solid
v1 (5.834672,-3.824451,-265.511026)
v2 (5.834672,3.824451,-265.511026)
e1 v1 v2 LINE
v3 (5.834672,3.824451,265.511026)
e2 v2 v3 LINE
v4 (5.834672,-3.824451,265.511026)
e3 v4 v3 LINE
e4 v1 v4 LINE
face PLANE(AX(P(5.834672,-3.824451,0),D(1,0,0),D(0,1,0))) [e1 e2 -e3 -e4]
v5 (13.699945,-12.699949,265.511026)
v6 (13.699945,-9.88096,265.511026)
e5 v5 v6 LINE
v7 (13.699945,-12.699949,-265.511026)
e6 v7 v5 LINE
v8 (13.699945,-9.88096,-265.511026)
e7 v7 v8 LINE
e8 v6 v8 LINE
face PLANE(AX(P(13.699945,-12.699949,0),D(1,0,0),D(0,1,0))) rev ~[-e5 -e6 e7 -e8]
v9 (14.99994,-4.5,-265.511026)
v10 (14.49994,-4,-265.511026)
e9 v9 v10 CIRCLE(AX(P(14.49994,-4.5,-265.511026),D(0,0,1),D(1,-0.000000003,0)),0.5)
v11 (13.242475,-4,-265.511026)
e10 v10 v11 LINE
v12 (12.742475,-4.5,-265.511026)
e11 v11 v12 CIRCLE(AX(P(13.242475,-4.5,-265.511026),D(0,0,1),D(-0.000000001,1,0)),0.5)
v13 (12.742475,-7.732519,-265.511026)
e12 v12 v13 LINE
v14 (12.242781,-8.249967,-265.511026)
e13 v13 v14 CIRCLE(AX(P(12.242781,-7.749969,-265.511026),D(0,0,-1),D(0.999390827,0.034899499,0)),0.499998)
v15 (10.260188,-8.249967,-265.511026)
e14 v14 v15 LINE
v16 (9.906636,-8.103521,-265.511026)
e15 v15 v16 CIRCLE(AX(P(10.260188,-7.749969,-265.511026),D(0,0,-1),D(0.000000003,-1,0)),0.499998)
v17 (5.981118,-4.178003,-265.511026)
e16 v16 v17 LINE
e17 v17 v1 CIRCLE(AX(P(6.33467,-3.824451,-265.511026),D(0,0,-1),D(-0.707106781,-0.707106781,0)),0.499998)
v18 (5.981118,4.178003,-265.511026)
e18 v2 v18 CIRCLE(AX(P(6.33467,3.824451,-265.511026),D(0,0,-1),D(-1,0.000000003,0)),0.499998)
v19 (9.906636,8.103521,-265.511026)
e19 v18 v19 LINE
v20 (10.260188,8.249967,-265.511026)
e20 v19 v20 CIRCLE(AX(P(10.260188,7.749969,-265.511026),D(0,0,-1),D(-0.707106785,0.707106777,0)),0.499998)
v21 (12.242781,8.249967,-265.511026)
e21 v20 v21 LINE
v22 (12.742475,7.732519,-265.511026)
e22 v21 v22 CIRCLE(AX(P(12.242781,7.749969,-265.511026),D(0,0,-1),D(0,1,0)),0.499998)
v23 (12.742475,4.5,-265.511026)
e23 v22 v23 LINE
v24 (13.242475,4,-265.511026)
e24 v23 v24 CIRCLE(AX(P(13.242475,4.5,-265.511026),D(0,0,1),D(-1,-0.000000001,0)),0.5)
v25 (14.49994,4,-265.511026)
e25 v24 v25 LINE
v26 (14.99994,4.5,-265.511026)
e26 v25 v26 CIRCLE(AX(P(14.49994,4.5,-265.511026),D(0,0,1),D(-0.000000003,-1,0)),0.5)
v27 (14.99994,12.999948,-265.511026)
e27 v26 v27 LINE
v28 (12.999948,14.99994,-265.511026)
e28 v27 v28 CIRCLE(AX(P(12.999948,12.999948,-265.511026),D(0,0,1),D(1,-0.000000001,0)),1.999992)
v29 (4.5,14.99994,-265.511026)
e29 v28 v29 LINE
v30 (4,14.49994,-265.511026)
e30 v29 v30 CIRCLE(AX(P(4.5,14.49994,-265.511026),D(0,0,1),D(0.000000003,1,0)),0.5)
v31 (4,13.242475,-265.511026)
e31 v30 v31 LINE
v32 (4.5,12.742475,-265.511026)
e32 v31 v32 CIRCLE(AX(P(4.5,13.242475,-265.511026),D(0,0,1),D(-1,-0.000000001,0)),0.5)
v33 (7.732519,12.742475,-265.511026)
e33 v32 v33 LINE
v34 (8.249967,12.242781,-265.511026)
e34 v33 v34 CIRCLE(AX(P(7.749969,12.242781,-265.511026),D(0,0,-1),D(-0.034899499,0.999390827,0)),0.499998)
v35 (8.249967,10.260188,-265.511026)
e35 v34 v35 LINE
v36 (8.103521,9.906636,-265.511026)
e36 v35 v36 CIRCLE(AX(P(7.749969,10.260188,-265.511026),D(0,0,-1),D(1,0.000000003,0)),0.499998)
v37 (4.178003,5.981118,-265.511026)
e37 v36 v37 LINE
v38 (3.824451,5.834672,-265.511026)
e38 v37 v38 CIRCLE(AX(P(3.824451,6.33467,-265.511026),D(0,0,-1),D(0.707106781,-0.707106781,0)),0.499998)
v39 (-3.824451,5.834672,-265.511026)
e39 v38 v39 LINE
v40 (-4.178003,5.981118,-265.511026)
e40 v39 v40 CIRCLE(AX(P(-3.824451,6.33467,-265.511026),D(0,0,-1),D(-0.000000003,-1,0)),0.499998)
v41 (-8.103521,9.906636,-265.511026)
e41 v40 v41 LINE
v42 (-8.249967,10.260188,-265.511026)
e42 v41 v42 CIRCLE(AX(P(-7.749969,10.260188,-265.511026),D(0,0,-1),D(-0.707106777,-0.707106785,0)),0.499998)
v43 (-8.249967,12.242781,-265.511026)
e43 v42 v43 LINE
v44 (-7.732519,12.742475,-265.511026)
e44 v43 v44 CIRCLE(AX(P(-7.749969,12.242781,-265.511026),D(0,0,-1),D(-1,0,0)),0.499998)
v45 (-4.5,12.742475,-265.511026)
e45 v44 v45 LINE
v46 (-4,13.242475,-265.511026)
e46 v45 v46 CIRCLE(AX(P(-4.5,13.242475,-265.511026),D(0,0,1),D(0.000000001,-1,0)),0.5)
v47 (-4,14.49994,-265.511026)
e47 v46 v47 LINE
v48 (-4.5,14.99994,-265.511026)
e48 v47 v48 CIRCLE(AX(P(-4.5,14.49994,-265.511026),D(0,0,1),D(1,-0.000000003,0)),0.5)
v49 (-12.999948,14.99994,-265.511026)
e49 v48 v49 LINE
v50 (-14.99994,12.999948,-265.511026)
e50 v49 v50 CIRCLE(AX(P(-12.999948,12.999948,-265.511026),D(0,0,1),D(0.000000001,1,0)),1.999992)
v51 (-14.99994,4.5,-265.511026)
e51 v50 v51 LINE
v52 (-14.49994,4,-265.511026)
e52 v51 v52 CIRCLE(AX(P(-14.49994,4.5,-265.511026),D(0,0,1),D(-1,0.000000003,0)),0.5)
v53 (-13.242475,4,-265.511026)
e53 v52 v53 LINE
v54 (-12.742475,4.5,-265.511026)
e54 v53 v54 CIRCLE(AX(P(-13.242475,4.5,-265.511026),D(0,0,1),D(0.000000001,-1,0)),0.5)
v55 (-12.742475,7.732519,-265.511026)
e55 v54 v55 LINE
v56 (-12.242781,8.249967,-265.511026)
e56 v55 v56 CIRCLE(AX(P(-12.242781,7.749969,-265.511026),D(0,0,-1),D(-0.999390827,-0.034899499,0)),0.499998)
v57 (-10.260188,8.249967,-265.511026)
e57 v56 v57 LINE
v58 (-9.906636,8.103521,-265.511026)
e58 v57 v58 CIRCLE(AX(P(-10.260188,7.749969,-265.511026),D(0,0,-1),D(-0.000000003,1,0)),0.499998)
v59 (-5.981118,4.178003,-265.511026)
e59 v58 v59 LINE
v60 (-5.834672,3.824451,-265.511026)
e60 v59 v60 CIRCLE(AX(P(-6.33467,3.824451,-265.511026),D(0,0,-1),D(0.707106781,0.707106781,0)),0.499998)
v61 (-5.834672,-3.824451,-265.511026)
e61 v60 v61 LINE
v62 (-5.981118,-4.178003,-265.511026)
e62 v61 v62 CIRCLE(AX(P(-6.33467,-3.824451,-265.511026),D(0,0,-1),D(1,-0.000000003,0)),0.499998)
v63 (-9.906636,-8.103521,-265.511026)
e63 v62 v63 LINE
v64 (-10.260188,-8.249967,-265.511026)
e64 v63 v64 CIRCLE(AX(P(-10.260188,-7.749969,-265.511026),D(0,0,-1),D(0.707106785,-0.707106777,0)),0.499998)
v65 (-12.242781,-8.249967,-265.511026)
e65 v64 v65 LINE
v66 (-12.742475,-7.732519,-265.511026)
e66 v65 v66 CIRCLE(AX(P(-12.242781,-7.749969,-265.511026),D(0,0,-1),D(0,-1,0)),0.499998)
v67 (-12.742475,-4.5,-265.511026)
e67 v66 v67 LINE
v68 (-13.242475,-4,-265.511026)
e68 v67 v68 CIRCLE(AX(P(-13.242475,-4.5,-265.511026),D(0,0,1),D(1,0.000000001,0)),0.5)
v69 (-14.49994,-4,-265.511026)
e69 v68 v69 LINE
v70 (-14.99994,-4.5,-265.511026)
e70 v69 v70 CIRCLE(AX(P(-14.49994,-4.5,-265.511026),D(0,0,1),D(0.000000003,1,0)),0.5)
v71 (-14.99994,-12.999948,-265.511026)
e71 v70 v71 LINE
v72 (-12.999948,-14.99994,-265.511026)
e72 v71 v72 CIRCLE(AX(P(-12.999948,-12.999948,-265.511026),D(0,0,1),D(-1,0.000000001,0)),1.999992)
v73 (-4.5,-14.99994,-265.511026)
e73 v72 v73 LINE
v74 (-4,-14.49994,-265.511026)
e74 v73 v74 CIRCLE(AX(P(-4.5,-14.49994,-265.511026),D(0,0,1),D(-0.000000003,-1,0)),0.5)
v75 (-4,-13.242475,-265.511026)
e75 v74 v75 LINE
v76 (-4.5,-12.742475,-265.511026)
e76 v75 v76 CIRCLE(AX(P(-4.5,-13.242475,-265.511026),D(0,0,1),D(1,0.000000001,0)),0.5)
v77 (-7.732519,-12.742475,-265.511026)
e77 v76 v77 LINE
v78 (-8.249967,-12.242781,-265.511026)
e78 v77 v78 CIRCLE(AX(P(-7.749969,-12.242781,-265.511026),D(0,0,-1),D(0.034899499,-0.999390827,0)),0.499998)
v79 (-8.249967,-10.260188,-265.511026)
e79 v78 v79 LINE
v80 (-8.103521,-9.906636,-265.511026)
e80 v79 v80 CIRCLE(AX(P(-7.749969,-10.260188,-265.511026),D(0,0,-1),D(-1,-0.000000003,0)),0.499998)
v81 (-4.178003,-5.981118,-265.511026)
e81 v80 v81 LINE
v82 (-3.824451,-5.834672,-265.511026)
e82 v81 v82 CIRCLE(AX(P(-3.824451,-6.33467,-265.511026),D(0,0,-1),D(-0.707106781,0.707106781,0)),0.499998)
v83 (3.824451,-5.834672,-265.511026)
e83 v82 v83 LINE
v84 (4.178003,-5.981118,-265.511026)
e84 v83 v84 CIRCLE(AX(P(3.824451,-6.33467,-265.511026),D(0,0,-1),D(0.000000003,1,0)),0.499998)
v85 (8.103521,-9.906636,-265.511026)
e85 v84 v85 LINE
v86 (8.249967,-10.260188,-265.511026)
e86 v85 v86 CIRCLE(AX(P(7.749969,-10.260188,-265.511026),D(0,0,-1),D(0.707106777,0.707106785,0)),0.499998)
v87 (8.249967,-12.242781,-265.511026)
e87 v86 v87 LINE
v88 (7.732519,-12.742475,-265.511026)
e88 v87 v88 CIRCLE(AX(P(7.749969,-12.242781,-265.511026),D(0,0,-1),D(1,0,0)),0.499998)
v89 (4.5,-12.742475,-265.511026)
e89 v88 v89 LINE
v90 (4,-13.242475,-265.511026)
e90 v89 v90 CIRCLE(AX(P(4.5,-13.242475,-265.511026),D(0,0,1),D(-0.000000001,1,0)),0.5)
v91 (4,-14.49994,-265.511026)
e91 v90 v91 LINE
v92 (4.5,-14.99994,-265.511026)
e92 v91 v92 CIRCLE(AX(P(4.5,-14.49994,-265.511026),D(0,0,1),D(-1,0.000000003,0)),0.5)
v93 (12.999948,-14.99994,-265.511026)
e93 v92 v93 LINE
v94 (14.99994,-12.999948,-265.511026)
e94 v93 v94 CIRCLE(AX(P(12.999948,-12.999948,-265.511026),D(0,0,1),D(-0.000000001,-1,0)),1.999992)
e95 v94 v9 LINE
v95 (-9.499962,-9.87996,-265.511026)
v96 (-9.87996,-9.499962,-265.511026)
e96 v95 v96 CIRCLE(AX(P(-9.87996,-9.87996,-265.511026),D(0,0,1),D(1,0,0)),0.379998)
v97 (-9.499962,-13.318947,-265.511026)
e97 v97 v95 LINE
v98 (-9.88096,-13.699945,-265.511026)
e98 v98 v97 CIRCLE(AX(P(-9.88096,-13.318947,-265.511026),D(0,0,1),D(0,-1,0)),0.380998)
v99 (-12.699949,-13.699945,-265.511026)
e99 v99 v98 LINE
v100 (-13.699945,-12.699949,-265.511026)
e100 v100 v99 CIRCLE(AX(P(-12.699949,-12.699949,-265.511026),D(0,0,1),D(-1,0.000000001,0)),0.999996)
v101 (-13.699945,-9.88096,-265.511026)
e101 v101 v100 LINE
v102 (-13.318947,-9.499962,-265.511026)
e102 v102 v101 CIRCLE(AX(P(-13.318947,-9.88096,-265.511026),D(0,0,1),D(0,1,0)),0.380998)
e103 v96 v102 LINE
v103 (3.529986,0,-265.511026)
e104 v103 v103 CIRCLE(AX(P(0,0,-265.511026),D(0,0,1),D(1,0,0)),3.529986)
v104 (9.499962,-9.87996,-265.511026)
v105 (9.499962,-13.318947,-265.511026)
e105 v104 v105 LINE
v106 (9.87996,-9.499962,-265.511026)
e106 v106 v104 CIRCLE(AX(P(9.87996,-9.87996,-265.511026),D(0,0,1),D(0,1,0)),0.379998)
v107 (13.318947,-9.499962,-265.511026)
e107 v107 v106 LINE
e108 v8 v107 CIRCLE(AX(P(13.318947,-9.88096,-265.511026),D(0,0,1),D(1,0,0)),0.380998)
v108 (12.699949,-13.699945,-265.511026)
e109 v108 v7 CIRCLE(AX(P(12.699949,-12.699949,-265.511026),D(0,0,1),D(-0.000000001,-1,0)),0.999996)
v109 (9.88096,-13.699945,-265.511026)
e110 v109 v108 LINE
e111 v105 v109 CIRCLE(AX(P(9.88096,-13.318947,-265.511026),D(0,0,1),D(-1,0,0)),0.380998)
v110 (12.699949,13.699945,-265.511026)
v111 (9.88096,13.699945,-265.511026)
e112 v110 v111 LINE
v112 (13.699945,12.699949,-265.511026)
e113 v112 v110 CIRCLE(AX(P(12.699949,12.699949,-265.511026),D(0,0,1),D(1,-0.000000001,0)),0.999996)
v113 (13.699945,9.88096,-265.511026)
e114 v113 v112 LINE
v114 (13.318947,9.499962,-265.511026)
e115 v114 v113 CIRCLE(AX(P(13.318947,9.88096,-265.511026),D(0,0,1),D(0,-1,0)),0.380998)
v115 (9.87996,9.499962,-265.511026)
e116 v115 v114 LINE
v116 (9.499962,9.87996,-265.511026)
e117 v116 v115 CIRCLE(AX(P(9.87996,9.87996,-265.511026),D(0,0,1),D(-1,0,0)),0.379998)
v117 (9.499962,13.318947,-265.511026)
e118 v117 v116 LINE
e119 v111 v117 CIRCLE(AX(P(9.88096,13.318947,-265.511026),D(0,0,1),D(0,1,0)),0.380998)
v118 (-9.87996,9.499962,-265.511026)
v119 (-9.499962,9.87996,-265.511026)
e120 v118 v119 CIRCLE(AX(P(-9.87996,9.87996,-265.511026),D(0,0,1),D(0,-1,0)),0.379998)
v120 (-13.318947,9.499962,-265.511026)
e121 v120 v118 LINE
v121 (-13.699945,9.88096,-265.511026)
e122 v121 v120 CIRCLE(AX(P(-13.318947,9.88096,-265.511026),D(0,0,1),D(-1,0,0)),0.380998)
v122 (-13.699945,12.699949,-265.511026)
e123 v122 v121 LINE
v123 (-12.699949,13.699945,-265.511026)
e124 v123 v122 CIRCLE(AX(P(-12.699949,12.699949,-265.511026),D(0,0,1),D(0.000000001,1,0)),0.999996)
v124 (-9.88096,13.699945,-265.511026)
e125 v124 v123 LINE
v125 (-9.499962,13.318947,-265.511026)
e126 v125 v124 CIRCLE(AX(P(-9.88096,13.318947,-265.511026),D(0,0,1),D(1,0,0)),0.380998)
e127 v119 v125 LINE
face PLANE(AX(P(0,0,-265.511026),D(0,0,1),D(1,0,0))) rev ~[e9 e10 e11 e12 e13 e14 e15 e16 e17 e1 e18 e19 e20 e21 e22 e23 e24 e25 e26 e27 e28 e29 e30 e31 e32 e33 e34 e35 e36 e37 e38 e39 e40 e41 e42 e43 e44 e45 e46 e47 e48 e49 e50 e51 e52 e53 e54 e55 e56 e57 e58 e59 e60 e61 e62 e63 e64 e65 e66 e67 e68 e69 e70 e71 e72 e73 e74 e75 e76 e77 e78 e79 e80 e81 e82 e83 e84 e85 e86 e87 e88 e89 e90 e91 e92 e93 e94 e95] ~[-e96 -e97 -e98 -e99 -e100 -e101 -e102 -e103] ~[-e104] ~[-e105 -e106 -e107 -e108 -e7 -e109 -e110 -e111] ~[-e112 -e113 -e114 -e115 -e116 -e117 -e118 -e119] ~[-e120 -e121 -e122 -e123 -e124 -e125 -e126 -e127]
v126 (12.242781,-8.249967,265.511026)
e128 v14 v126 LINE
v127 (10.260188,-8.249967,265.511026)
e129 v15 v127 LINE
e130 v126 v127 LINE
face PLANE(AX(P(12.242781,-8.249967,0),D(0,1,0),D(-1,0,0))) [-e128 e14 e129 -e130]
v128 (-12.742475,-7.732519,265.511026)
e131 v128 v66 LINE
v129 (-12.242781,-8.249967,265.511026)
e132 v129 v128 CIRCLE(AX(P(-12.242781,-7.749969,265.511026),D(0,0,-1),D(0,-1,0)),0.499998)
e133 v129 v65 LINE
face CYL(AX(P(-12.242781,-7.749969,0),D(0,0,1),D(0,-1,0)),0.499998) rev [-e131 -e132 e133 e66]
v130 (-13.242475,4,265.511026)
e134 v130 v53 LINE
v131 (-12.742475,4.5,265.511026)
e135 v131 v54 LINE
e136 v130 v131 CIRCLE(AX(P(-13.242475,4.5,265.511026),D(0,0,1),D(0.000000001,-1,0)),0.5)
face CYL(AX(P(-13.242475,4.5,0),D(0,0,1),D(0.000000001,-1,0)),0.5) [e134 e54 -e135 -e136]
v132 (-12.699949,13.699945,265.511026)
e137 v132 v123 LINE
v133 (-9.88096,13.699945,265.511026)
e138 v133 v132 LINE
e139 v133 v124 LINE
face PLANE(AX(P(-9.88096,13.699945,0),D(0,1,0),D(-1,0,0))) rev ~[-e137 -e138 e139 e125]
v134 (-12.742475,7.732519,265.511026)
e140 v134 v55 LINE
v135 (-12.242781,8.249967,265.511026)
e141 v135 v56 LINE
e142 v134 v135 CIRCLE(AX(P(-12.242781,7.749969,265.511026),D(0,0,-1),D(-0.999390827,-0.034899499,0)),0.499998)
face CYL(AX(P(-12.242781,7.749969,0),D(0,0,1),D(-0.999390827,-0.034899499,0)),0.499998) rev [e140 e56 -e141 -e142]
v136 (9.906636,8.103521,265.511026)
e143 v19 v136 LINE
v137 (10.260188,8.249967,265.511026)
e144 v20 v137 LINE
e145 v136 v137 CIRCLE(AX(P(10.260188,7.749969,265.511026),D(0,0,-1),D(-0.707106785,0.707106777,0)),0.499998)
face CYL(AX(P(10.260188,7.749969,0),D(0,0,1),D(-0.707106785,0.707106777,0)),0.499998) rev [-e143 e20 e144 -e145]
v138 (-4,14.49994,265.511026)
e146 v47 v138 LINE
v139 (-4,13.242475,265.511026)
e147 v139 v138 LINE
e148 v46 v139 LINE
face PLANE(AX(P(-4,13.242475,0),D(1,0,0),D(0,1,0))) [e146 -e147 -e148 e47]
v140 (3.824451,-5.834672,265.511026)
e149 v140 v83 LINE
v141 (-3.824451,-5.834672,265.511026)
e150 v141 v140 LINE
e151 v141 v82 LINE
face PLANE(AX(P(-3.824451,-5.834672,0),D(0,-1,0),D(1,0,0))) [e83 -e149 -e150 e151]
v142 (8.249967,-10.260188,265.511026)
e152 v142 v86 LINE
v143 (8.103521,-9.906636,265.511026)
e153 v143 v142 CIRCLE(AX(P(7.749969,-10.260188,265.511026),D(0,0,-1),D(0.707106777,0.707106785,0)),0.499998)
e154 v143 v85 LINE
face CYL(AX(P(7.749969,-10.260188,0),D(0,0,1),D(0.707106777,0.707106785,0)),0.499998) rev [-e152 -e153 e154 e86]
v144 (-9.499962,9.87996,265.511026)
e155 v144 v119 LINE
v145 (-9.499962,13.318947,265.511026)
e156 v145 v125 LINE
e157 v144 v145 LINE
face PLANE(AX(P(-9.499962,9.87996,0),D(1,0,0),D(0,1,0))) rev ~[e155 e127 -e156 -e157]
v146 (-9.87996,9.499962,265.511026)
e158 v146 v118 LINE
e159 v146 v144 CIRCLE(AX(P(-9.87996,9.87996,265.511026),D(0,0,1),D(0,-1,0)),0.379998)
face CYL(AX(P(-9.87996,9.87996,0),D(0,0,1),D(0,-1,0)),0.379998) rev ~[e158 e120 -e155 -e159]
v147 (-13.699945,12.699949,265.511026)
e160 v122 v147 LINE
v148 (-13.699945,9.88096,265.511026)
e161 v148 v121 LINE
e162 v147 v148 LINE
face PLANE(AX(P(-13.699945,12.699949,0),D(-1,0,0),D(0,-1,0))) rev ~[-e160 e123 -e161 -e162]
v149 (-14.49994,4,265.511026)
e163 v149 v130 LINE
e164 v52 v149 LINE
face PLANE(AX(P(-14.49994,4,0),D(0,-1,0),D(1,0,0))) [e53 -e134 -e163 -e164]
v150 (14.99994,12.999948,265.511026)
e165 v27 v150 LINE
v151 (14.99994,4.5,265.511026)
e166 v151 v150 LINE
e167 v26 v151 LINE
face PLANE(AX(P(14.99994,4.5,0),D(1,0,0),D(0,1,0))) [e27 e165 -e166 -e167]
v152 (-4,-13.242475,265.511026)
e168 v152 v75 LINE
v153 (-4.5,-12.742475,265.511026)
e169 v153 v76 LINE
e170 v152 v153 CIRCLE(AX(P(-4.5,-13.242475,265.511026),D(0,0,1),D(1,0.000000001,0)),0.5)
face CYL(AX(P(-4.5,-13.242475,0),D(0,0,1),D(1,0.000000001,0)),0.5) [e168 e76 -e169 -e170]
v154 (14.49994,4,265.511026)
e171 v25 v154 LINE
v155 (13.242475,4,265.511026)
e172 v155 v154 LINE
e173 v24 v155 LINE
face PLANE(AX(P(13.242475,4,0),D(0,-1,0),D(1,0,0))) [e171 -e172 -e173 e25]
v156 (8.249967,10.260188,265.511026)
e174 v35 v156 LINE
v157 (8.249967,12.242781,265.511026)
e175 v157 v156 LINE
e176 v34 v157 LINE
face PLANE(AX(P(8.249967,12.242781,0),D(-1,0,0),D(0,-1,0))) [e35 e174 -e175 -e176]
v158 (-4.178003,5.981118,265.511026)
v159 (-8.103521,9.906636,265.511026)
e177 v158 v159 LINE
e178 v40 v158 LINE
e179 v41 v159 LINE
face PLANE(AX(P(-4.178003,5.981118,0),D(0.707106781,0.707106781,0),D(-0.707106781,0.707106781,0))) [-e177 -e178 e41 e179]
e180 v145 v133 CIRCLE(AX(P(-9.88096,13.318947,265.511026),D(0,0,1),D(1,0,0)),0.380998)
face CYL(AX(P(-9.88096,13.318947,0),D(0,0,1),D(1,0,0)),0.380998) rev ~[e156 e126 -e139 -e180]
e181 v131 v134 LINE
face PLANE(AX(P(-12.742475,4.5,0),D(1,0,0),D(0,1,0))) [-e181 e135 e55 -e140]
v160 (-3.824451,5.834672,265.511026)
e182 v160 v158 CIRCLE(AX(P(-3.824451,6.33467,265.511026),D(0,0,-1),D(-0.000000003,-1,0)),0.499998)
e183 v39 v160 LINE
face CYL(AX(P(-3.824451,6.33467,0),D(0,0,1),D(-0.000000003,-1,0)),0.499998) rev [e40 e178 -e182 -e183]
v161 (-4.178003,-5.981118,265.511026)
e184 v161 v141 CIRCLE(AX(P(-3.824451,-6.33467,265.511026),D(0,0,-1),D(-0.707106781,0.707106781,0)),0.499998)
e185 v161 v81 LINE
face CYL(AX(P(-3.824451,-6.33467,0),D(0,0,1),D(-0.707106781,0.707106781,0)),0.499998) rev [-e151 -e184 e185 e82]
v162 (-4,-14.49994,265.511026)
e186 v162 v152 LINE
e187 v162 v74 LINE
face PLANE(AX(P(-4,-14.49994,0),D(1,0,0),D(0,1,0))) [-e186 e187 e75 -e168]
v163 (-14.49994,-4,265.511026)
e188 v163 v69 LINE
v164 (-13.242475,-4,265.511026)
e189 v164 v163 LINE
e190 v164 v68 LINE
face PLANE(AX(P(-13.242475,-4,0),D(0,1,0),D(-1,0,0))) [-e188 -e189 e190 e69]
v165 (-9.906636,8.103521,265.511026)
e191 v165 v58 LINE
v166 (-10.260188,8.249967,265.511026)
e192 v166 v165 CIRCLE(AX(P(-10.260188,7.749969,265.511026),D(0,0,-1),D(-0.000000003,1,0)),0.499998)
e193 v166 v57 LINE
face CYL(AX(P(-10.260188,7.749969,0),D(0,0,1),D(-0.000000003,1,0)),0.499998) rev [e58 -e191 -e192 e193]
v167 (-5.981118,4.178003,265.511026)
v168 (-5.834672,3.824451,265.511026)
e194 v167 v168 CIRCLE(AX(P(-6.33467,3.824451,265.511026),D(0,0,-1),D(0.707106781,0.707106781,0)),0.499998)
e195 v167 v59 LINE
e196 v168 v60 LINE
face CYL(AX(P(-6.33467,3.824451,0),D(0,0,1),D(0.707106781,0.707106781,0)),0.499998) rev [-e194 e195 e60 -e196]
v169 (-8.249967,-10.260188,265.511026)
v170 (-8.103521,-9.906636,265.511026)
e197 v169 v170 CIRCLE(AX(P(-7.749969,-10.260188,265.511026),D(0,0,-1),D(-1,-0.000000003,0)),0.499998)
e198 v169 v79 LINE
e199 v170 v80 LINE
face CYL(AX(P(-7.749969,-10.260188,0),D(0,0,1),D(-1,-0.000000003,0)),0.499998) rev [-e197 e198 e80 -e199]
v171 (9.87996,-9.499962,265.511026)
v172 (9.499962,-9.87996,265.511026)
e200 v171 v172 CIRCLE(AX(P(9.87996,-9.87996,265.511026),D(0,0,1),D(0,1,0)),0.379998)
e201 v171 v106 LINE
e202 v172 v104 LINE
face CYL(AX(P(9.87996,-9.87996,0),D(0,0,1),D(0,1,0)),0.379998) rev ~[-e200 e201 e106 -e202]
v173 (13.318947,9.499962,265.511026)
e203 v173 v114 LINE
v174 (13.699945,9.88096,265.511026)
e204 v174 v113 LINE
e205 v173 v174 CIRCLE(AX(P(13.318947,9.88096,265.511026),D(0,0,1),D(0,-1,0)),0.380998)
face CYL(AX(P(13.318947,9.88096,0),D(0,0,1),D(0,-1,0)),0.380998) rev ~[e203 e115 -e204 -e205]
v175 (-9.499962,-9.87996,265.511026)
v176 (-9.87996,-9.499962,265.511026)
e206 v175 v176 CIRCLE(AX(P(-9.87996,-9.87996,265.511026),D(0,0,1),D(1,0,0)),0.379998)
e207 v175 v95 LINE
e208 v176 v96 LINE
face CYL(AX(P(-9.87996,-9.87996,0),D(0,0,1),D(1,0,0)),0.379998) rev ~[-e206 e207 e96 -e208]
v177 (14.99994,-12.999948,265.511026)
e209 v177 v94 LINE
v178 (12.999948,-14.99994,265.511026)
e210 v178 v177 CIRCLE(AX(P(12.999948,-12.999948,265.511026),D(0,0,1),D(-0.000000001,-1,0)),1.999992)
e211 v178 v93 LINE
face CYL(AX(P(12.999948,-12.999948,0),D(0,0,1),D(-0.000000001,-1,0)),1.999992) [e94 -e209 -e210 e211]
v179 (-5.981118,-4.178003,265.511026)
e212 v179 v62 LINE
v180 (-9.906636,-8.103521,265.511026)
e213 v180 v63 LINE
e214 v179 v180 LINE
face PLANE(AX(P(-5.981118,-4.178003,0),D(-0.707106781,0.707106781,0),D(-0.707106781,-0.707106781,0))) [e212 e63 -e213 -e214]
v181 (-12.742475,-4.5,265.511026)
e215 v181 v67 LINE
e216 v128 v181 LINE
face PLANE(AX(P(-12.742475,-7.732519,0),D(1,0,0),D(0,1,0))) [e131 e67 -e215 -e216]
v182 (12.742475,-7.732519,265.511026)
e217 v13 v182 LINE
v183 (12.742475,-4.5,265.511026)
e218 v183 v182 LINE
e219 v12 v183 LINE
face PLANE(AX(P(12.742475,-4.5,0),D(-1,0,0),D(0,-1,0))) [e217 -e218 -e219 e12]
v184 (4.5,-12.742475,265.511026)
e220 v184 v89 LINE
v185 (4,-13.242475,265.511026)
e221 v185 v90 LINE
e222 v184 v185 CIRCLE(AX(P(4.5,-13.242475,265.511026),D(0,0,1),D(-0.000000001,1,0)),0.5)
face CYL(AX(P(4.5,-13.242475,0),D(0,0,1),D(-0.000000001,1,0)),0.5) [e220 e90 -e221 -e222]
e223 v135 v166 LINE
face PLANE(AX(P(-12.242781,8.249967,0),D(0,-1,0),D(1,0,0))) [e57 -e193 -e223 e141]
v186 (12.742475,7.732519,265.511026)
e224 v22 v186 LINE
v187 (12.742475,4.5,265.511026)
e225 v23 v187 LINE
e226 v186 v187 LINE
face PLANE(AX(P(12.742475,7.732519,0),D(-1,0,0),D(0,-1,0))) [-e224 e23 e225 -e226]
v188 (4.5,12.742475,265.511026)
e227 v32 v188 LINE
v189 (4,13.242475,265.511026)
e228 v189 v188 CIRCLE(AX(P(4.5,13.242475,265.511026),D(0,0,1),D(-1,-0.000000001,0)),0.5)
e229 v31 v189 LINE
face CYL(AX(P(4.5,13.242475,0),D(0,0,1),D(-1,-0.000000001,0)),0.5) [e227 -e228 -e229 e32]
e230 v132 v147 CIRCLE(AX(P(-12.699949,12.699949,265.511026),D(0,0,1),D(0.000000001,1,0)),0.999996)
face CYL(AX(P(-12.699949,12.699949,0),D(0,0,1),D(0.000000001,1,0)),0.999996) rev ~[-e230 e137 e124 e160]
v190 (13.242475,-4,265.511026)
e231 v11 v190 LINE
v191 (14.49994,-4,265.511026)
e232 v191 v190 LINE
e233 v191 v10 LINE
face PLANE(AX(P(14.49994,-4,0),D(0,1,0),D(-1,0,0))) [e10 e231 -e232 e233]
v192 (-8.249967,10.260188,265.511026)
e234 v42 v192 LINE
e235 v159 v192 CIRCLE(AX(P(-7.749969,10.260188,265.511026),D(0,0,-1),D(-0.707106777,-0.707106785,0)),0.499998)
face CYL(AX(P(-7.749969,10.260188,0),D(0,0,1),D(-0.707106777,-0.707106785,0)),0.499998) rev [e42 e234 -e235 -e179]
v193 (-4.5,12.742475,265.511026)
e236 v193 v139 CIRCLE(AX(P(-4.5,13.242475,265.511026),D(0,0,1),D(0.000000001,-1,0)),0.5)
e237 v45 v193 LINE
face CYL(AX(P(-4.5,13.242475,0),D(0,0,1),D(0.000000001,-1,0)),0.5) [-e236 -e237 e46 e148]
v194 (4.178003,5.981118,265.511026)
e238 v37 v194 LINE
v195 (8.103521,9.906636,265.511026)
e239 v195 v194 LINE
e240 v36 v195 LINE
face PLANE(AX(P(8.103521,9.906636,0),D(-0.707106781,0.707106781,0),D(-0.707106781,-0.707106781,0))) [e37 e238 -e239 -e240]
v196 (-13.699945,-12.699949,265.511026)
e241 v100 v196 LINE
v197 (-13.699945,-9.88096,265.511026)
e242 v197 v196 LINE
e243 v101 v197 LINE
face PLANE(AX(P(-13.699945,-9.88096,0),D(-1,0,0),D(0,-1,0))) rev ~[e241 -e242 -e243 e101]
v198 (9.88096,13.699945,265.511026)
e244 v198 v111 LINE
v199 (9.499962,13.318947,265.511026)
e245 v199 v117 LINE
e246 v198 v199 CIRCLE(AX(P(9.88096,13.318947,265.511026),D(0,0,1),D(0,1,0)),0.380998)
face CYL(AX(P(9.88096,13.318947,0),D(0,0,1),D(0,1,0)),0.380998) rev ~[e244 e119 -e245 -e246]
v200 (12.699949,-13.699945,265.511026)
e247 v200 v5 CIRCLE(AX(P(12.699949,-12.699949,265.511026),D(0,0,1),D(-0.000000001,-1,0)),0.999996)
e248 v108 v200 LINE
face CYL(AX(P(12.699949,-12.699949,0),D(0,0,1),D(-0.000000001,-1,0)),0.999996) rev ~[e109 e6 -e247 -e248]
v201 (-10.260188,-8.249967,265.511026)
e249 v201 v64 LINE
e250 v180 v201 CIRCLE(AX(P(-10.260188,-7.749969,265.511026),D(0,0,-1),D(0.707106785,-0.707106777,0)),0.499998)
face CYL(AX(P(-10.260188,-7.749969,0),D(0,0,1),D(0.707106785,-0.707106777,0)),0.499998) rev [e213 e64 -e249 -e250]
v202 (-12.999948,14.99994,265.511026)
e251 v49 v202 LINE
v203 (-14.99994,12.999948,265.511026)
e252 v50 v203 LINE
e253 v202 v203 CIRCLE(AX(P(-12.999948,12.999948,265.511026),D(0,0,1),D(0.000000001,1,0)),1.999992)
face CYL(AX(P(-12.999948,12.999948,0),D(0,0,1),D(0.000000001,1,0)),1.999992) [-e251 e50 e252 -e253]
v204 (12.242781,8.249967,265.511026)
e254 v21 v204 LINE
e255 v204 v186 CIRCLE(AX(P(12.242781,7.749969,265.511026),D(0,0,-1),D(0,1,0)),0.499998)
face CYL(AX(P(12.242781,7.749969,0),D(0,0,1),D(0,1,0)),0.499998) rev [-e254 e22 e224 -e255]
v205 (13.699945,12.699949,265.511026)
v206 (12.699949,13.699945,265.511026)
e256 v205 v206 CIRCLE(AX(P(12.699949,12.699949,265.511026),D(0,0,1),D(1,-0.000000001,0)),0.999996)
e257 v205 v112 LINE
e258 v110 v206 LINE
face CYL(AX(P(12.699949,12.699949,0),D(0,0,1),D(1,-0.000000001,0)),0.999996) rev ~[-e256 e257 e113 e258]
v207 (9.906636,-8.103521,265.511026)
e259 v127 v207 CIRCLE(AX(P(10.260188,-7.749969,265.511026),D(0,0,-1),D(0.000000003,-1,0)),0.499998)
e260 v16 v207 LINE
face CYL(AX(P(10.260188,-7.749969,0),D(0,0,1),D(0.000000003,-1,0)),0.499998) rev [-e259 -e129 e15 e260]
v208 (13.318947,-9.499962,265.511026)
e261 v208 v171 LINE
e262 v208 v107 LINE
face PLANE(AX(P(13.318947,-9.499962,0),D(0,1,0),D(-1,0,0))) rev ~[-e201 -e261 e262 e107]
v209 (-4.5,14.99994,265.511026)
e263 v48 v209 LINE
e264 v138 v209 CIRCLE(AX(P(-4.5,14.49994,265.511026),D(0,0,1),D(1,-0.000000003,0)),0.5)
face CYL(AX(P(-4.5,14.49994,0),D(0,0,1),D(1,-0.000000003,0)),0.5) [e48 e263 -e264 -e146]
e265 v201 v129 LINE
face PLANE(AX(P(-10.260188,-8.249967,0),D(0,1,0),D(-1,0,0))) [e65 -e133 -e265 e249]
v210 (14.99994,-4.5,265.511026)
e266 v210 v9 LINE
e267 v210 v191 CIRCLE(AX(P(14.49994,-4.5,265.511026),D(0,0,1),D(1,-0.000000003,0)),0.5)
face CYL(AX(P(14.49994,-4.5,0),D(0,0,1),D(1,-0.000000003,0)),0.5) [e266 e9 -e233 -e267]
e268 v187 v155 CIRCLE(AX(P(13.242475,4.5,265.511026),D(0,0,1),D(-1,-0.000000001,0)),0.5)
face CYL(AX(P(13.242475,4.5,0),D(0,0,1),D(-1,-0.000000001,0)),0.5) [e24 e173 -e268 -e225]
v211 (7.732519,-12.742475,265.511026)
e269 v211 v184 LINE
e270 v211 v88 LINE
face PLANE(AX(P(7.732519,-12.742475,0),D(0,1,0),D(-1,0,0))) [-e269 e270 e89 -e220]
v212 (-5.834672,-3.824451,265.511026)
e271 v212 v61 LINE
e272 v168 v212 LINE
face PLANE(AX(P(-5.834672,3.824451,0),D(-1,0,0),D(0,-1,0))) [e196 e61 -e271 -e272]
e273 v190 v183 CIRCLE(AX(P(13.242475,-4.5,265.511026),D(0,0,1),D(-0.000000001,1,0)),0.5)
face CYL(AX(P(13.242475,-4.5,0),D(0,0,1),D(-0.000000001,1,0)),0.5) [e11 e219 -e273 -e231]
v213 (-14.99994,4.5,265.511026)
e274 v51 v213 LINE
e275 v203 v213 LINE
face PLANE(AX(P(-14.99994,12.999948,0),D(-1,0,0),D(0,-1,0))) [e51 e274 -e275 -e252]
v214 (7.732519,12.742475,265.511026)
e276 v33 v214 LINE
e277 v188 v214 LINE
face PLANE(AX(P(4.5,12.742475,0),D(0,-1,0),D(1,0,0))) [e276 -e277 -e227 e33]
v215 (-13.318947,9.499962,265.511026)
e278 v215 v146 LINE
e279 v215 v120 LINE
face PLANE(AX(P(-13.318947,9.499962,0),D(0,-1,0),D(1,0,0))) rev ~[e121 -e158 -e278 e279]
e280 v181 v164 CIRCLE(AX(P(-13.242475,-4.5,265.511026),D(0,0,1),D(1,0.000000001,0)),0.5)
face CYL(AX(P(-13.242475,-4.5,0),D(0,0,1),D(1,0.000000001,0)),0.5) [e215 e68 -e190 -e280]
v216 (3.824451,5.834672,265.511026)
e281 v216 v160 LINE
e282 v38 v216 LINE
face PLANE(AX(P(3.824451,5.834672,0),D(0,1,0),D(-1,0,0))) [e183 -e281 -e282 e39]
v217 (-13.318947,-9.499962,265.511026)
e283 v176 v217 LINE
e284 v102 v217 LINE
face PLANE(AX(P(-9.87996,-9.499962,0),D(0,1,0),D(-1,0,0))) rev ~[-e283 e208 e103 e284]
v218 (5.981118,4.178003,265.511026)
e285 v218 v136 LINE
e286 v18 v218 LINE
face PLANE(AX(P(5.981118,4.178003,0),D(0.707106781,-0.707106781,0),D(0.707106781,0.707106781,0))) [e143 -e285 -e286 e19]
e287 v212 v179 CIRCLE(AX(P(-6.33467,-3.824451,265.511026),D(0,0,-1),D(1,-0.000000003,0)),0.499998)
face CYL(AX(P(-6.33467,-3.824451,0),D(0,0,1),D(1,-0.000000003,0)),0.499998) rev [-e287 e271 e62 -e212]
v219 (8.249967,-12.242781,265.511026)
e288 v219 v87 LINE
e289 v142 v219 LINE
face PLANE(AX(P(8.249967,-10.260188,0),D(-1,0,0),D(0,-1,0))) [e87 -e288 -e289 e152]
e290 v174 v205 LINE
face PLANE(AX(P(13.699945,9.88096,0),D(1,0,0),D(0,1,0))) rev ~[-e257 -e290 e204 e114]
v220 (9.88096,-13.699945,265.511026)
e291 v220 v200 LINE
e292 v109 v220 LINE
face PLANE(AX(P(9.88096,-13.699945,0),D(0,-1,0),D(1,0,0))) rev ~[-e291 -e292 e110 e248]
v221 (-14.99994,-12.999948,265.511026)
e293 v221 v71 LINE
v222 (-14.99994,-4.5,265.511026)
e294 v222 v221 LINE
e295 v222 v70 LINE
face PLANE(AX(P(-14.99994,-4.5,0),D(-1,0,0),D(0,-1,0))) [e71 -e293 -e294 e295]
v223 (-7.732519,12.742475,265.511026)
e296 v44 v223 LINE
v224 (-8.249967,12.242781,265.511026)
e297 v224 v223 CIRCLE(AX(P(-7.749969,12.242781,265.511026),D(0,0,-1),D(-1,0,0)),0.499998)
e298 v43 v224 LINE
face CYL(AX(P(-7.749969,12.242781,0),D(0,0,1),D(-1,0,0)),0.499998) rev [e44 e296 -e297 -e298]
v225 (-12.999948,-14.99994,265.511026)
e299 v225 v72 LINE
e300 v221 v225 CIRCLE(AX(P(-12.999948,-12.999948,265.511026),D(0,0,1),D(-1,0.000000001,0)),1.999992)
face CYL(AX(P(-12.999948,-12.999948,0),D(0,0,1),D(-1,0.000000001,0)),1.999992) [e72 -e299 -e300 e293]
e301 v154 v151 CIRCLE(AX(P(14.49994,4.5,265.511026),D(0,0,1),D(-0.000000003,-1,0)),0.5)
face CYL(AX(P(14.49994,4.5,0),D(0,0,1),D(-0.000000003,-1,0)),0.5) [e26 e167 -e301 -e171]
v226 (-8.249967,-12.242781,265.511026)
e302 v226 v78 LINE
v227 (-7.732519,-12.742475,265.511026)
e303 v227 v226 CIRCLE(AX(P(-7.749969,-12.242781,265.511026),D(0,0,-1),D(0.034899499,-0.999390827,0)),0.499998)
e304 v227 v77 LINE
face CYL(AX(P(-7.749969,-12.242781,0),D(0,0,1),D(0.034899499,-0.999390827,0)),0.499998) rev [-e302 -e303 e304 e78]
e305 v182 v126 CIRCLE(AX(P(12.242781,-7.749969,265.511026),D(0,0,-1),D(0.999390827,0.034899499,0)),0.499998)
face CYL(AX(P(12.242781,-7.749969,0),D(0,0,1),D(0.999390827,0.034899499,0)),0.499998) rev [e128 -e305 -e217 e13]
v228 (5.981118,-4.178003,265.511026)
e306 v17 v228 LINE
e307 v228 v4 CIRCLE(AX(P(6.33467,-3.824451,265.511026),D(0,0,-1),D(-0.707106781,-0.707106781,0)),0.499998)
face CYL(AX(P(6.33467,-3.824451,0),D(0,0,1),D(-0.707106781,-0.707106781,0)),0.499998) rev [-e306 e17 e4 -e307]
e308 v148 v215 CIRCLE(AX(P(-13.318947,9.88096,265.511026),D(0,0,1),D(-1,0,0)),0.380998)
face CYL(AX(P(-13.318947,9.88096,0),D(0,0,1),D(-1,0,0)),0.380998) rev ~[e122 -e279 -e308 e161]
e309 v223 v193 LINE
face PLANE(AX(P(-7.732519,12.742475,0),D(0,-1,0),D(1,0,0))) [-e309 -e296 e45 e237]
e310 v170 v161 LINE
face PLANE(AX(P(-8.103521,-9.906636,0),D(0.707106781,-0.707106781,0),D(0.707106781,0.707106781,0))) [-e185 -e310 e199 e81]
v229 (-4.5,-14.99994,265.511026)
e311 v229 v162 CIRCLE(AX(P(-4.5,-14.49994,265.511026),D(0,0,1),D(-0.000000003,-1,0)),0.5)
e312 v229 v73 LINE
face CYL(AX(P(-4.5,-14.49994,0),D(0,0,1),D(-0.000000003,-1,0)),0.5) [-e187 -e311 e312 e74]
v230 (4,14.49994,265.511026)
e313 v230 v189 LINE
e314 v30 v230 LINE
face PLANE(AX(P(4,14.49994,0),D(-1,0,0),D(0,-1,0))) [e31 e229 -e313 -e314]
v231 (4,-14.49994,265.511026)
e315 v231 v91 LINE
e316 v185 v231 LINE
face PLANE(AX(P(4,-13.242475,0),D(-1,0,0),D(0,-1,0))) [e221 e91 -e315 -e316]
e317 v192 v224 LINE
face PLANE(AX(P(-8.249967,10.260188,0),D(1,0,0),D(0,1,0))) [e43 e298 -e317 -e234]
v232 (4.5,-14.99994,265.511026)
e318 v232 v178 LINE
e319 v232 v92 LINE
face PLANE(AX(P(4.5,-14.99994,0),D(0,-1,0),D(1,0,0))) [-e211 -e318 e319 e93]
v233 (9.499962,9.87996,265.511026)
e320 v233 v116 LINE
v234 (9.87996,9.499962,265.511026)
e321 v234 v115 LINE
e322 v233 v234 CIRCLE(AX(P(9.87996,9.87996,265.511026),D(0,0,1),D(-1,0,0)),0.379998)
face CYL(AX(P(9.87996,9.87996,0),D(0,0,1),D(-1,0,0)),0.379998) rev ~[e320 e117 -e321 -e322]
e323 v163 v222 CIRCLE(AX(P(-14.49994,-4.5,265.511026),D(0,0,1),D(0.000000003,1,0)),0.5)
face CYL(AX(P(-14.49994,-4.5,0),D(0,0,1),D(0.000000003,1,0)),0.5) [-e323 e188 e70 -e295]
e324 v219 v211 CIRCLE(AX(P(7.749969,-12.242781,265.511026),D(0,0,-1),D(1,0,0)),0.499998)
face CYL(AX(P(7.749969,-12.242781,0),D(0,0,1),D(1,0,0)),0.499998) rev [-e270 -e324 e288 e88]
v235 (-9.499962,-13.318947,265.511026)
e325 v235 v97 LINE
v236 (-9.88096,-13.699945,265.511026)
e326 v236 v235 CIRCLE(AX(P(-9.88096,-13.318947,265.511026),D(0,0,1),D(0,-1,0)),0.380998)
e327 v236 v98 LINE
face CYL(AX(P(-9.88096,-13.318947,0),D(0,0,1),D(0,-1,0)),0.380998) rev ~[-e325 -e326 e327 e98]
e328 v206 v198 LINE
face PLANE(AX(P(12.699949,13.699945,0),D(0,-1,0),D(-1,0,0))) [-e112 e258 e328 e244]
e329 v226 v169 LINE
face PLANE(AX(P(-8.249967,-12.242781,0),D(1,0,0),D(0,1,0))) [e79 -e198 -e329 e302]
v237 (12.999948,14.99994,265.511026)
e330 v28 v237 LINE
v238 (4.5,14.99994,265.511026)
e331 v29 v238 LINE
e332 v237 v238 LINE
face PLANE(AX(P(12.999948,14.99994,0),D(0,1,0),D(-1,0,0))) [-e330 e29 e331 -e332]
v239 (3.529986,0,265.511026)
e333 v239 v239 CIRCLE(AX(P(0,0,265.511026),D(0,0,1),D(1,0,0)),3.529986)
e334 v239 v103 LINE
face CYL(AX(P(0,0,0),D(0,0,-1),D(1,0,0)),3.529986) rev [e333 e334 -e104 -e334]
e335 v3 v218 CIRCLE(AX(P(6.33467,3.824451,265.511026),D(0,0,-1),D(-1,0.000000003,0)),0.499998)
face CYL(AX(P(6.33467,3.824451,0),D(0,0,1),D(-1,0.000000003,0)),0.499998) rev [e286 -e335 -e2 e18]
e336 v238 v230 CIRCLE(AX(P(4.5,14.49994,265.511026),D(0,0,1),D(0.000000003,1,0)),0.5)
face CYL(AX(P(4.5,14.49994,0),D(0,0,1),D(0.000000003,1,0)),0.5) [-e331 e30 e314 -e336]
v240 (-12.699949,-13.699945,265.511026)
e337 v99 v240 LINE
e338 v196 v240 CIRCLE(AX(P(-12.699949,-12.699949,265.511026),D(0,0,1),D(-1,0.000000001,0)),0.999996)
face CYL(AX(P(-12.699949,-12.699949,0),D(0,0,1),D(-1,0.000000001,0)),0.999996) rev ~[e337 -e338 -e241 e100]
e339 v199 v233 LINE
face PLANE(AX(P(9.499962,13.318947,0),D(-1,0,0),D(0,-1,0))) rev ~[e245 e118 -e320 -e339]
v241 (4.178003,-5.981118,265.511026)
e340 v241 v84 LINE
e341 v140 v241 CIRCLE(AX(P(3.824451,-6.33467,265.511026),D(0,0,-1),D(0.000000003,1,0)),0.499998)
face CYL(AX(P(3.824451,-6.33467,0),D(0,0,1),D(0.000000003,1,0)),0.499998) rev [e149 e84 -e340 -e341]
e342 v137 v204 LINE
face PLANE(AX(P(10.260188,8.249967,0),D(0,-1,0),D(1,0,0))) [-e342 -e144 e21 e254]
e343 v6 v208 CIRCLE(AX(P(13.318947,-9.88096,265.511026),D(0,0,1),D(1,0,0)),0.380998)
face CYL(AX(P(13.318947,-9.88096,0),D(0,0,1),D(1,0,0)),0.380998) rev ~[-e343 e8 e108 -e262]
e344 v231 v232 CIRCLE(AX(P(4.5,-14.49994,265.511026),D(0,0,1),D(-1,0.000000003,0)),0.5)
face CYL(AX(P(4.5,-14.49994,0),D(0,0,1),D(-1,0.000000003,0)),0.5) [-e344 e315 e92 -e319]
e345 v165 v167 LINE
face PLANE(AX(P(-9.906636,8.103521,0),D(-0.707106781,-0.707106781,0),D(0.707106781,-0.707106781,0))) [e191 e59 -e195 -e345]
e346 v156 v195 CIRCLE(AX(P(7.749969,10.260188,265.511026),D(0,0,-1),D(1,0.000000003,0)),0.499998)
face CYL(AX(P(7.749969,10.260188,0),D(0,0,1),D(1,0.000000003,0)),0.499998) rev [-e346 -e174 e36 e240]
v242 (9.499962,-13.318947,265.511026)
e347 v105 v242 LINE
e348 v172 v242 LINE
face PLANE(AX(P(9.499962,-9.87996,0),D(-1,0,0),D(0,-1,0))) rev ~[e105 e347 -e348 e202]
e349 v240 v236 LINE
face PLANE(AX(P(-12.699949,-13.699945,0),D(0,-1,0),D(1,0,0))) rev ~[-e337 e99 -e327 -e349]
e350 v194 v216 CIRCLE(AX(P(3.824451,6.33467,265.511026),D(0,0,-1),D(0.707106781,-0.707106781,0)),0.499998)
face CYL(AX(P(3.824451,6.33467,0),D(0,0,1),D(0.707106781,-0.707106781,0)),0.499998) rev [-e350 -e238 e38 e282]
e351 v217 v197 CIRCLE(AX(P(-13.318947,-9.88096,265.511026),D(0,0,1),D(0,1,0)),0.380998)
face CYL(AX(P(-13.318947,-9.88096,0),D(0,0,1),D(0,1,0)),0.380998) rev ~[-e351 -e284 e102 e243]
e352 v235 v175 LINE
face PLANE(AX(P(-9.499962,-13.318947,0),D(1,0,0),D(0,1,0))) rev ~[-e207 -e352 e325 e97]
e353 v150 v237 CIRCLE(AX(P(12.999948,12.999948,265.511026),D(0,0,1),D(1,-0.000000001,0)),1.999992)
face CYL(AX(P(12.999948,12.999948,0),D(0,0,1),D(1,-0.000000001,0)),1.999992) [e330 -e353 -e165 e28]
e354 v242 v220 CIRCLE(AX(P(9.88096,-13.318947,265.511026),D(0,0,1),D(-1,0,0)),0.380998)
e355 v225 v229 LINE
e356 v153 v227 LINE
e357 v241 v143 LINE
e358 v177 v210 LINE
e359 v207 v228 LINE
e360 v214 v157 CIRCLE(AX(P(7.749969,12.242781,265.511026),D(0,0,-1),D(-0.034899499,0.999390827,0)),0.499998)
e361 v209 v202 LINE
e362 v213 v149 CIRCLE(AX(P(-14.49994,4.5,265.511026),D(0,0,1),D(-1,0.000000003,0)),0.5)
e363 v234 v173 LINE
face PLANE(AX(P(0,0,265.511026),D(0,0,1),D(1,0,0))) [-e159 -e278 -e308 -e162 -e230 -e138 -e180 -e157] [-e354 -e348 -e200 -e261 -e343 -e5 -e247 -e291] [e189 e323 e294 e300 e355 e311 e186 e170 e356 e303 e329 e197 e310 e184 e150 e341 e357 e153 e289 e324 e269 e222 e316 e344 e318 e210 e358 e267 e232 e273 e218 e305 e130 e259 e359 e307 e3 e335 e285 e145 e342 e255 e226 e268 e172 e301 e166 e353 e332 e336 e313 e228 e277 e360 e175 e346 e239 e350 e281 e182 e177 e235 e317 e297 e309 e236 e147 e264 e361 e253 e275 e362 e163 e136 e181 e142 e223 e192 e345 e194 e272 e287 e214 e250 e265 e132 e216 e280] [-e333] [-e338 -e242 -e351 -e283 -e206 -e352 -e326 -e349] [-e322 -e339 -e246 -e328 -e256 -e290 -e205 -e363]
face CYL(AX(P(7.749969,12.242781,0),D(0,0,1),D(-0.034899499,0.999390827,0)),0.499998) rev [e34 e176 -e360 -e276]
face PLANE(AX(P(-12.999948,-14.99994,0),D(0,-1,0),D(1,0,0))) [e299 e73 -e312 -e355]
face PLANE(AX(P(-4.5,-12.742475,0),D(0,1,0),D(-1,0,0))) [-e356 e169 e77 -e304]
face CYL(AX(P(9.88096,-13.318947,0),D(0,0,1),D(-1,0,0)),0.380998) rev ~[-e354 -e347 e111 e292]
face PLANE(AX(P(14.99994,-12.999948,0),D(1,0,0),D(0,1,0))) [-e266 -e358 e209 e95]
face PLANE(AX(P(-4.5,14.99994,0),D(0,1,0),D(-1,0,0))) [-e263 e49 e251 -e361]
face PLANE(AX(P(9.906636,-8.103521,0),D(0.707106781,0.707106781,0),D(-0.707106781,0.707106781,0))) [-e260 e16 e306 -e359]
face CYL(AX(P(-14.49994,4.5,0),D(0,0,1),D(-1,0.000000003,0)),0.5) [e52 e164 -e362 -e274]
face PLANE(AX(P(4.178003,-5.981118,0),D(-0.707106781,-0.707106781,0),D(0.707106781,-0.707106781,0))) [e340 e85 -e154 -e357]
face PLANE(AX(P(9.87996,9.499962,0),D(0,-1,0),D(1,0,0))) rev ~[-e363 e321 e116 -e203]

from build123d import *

# Parameters (mm, degrees)
SKETCH1_R           = 3.52998588
BOSS_EXTRUDE1_DEPTH = 265.511026


with BuildPart() as part:
    # Sketch1 → Boss-Extrude1 (new, symmetric)
    with BuildSketch(Plane.XY):
        with BuildLine():
            Line((14.49994, -4), (13.24247465, -4))
            ThreePointArc((13.24247465, -4), (12.88892126, -4.146446609), (12.74247465, -4.5))
            Line((12.74247465, -4.5), (12.74247465, -7.732519321))
            ThreePointArc((12.74247465, -7.732519321), (12.602449697, -8.097296796), (12.242781236, -8.249967))
            Line((12.242781236, -8.249967), (10.260188032, -8.249967))
            ThreePointArc((10.260188032, -8.249967), (10.068847082, -8.211906919), (9.906636056, -8.103520976))
            Line((9.906636056, -8.103520976), (5.981117769, -4.178002689))
            ThreePointArc((5.981117769, -4.178002689), (5.872731827, -4.015791664), (5.834671745, -3.824450713))
            Line((5.834671745, -3.824450713), (5.834671745, -1.01249595))
            Line((5.834671745, -1.01249595), (5.834671745, 0.88749645))
            Line((5.834671745, 0.88749645), (5.834671745, 3.824450713))
            ThreePointArc((5.834671745, 3.824450713), (5.872731827, 4.015791664), (5.981117769, 4.178002689))
            Line((5.981117769, 4.178002689), (9.906636056, 8.103520976))
            ThreePointArc((9.906636056, 8.103520976), (10.068847082, 8.211906919), (10.260188032, 8.249967))
            Line((10.260188032, 8.249967), (12.242781236, 8.249967))
            ThreePointArc((12.242781236, 8.249967), (12.602449697, 8.097296796), (12.74247465, 7.732519321))
            Line((12.74247465, 7.732519321), (12.74247465, 4.5))
            ThreePointArc((12.74247465, 4.5), (12.88892126, 4.146446609), (13.24247465, 4))
            Line((13.24247465, 4), (14.49994, 4))
            ThreePointArc((14.49994, 4), (14.853493391, 4.146446609), (14.99994, 4.5))
            Line((14.99994, 4.5), (14.99994, 12.999948))
            ThreePointArc((14.99994, 12.999948), (14.414155906, 14.414155906), (12.999948, 14.99994))
            Line((12.999948, 14.99994), (4.5, 14.99994))
            ThreePointArc((4.5, 14.99994), (4.146446609, 14.853493391), (4, 14.49994))
            Line((4, 14.49994), (4, 13.24247465))
            ThreePointArc((4, 13.24247465), (4.146446609, 12.88892126), (4.5, 12.74247465))
            Line((4.5, 12.74247465), (7.732519321, 12.74247465))
            ThreePointArc((7.732519321, 12.74247465), (8.097296796, 12.602449697), (8.249967, 12.242781236))
            Line((8.249967, 12.242781236), (8.249967, 10.260188032))
            ThreePointArc((8.249967, 10.260188032), (8.211906919, 10.068847082), (8.103520976, 9.906636056))
            Line((8.103520976, 9.906636056), (4.178002689, 5.981117769))
            ThreePointArc((4.178002689, 5.981117769), (4.015791664, 5.872731827), (3.824450713, 5.834671745))
            Line((3.824450713, 5.834671745), (0.9499962, 5.834671745))
            Line((0.9499962, 5.834671745), (-0.9499962, 5.834671745))
            Line((-0.9499962, 5.834671745), (-3.824450713, 5.834671745))
            ThreePointArc((-3.824450713, 5.834671745), (-4.015791664, 5.872731827), (-4.178002689, 5.981117769))
            Line((-4.178002689, 5.981117769), (-8.103520976, 9.906636056))
            ThreePointArc((-8.103520976, 9.906636056), (-8.211906919, 10.068847082), (-8.249967, 10.260188032))
            Line((-8.249967, 10.260188032), (-8.249967, 12.242781236))
            ThreePointArc((-8.249967, 12.242781236), (-8.097296796, 12.602449697), (-7.732519321, 12.74247465))
            Line((-7.732519321, 12.74247465), (-4.5, 12.74247465))
            ThreePointArc((-4.5, 12.74247465), (-4.146446609, 12.88892126), (-4, 13.24247465))
            Line((-4, 13.24247465), (-4, 14.49994))
            ThreePointArc((-4, 14.49994), (-4.146446609, 14.853493391), (-4.5, 14.99994))
            Line((-4.5, 14.99994), (-12.999948, 14.99994))
            ThreePointArc((-12.999948, 14.99994), (-14.414155906, 14.414155906), (-14.99994, 12.999948))
            Line((-14.99994, 12.999948), (-14.99994, 4.5))
            ThreePointArc((-14.99994, 4.5), (-14.853493391, 4.146446609), (-14.49994, 4))
            Line((-14.49994, 4), (-13.24247465, 4))
            ThreePointArc((-13.24247465, 4), (-12.88892126, 4.146446609), (-12.74247465, 4.5))
            Line((-12.74247465, 4.5), (-12.74247465, 7.732519321))
            ThreePointArc((-12.74247465, 7.732519321), (-12.602449697, 8.097296796), (-12.242781236, 8.249967))
            Line((-12.242781236, 8.249967), (-10.260188032, 8.249967))
            ThreePointArc((-10.260188032, 8.249967), (-10.068847082, 8.211906919), (-9.906636056, 8.103520976))
            Line((-9.906636056, 8.103520976), (-5.981117769, 4.178002689))
            ThreePointArc((-5.981117769, 4.178002689), (-5.872731827, 4.015791664), (-5.834671745, 3.824450713))
            Line((-5.834671745, 3.824450713), (-5.834671745, 0.88749645))
            Line((-5.834671745, 0.88749645), (-5.834671745, -1.01249595))
            Line((-5.834671745, -1.01249595), (-5.834671745, -3.824450713))
            ThreePointArc((-5.834671745, -3.824450713), (-5.872731827, -4.015791664), (-5.981117769, -4.178002689))
            Line((-5.981117769, -4.178002689), (-9.906636056, -8.103520976))
            ThreePointArc((-9.906636056, -8.103520976), (-10.068847082, -8.211906919), (-10.260188032, -8.249967))
            Line((-10.260188032, -8.249967), (-12.242781236, -8.249967))
            ThreePointArc((-12.242781236, -8.249967), (-12.602449697, -8.097296796), (-12.74247465, -7.732519321))
            Line((-12.74247465, -7.732519321), (-12.74247465, -4.5))
            ThreePointArc((-12.74247465, -4.5), (-12.88892126, -4.146446609), (-13.24247465, -4))
            Line((-13.24247465, -4), (-14.49994, -4))
            ThreePointArc((-14.49994, -4), (-14.853493391, -4.146446609), (-14.99994, -4.5))
            Line((-14.99994, -4.5), (-14.99994, -12.999948))
            ThreePointArc((-14.99994, -12.999948), (-14.414155906, -14.414155906), (-12.999948, -14.99994))
            Line((-12.999948, -14.99994), (-4.5, -14.99994))
            ThreePointArc((-4.5, -14.99994), (-4.146446609, -14.853493391), (-4, -14.49994))
            Line((-4, -14.49994), (-4, -13.24247465))
            ThreePointArc((-4, -13.24247465), (-4.146446609, -12.88892126), (-4.5, -12.74247465))
            Line((-4.5, -12.74247465), (-7.732519321, -12.74247465))
            ThreePointArc((-7.732519321, -12.74247465), (-8.097296796, -12.602449697), (-8.249967, -12.242781236))
            Line((-8.249967, -12.242781236), (-8.249967, -10.260188032))
            ThreePointArc((-8.249967, -10.260188032), (-8.211906919, -10.068847082), (-8.103520976, -9.906636056))
            Line((-8.103520976, -9.906636056), (-4.178002689, -5.981117769))
            ThreePointArc((-4.178002689, -5.981117769), (-4.015791664, -5.872731827), (-3.824450713, -5.834671745))
            Line((-3.824450713, -5.834671745), (-0.9499962, -5.834671745))
            Line((-0.9499962, -5.834671745), (0.9499962, -5.834671745))
            Line((0.9499962, -5.834671745), (3.824450713, -5.834671745))
            ThreePointArc((3.824450713, -5.834671745), (4.015791664, -5.872731827), (4.178002689, -5.981117769))
            Line((4.178002689, -5.981117769), (8.103520976, -9.906636056))
            ThreePointArc((8.103520976, -9.906636056), (8.211906919, -10.068847082), (8.249967, -10.260188032))
            Line((8.249967, -10.260188032), (8.249967, -12.242781236))
            ThreePointArc((8.249967, -12.242781236), (8.097296796, -12.602449697), (7.732519321, -12.74247465))
            Line((7.732519321, -12.74247465), (4.5, -12.74247465))
            ThreePointArc((4.5, -12.74247465), (4.146446609, -12.88892126), (4, -13.24247465))
            Line((4, -13.24247465), (4, -14.49994))
            ThreePointArc((4, -14.49994), (4.146446609, -14.853493391), (4.5, -14.99994))
            Line((4.5, -14.99994), (12.999948, -14.99994))
            ThreePointArc((12.999948, -14.99994), (14.414155906, -14.414155906), (14.99994, -12.999948))
            Line((14.99994, -12.999948), (14.99994, -4.5))
            ThreePointArc((14.99994, -4.5), (14.853493391, -4.146446609), (14.49994, -4))
        make_face()
        Circle(SKETCH1_R, mode=Mode.SUBTRACT)
        with BuildLine():
            Line((-12.6999492, -13.6999452), (-9.880960476, -13.6999452))
            ThreePointArc((-9.880960476, -13.6999452), (-9.61155387, -13.58835333), (-9.499962, -13.318946724))
            Line((-9.499962, -13.318946724), (-9.499962, -9.87996048))
            ThreePointArc((-9.499962, -9.87996048), (-9.611260978, -9.611260978), (-9.87996048, -9.499962))
            Line((-9.87996048, -9.499962), (-13.318946724, -9.499962))
            ThreePointArc((-13.318946724, -9.499962), (-13.58835333, -9.61155387), (-13.6999452, -9.880960476))
            Line((-13.6999452, -9.880960476), (-13.6999452, -12.6999492))
            ThreePointArc((-13.6999452, -12.6999492), (-13.407053153, -13.407053153), (-12.6999492, -13.6999452))
        make_face(mode=Mode.SUBTRACT)
        with BuildLine():
            Line((13.6999452, -12.6999492), (13.6999452, -9.880960476))
            ThreePointArc((13.6999452, -9.880960476), (13.58835333, -9.61155387), (13.318946724, -9.499962))
            Line((13.318946724, -9.499962), (9.87996048, -9.499962))
            ThreePointArc((9.87996048, -9.499962), (9.611260978, -9.611260978), (9.499962, -9.87996048))
            Line((9.499962, -9.87996048), (9.499962, -13.318946724))
            ThreePointArc((9.499962, -13.318946724), (9.61155387, -13.58835333), (9.880960476, -13.6999452))
            Line((9.880960476, -13.6999452), (12.6999492, -13.6999452))
            ThreePointArc((12.6999492, -13.6999452), (13.407053153, -13.407053153), (13.6999452, -12.6999492))
        make_face(mode=Mode.SUBTRACT)
        with BuildLine():
            Line((9.87996048, 9.499962), (13.318946724, 9.499962))
            ThreePointArc((13.318946724, 9.499962), (13.58835333, 9.61155387), (13.6999452, 9.880960476))
            Line((13.6999452, 9.880960476), (13.6999452, 12.6999492))
            ThreePointArc((13.6999452, 12.6999492), (13.407053153, 13.407053153), (12.6999492, 13.6999452))
            Line((12.6999492, 13.6999452), (9.880960476, 13.6999452))
            ThreePointArc((9.880960476, 13.6999452), (9.61155387, 13.58835333), (9.499962, 13.318946724))
            Line((9.499962, 13.318946724), (9.499962, 9.87996048))
            ThreePointArc((9.499962, 9.87996048), (9.611260978, 9.611260978), (9.87996048, 9.499962))
        make_face(mode=Mode.SUBTRACT)
        with BuildLine():
            Line((-13.6999452, 12.6999492), (-13.6999452, 9.880960476))
            ThreePointArc((-13.6999452, 9.880960476), (-13.58835333, 9.61155387), (-13.318946724, 9.499962))
            Line((-13.318946724, 9.499962), (-9.87996048, 9.499962))
            ThreePointArc((-9.87996048, 9.499962), (-9.611260978, 9.611260978), (-9.499962, 9.87996048))
            Line((-9.499962, 9.87996048), (-9.499962, 13.318946724))
            ThreePointArc((-9.499962, 13.318946724), (-9.61155387, 13.58835333), (-9.880960476, 13.6999452))
            Line((-9.880960476, 13.6999452), (-12.6999492, 13.6999452))
            ThreePointArc((-12.6999492, 13.6999452), (-13.407053153, 13.407053153), (-13.6999452, 12.6999492))
        make_face(mode=Mode.SUBTRACT)
    extrude(amount=BOSS_EXTRUDE1_DEPTH, both=True)


solid = part.part
